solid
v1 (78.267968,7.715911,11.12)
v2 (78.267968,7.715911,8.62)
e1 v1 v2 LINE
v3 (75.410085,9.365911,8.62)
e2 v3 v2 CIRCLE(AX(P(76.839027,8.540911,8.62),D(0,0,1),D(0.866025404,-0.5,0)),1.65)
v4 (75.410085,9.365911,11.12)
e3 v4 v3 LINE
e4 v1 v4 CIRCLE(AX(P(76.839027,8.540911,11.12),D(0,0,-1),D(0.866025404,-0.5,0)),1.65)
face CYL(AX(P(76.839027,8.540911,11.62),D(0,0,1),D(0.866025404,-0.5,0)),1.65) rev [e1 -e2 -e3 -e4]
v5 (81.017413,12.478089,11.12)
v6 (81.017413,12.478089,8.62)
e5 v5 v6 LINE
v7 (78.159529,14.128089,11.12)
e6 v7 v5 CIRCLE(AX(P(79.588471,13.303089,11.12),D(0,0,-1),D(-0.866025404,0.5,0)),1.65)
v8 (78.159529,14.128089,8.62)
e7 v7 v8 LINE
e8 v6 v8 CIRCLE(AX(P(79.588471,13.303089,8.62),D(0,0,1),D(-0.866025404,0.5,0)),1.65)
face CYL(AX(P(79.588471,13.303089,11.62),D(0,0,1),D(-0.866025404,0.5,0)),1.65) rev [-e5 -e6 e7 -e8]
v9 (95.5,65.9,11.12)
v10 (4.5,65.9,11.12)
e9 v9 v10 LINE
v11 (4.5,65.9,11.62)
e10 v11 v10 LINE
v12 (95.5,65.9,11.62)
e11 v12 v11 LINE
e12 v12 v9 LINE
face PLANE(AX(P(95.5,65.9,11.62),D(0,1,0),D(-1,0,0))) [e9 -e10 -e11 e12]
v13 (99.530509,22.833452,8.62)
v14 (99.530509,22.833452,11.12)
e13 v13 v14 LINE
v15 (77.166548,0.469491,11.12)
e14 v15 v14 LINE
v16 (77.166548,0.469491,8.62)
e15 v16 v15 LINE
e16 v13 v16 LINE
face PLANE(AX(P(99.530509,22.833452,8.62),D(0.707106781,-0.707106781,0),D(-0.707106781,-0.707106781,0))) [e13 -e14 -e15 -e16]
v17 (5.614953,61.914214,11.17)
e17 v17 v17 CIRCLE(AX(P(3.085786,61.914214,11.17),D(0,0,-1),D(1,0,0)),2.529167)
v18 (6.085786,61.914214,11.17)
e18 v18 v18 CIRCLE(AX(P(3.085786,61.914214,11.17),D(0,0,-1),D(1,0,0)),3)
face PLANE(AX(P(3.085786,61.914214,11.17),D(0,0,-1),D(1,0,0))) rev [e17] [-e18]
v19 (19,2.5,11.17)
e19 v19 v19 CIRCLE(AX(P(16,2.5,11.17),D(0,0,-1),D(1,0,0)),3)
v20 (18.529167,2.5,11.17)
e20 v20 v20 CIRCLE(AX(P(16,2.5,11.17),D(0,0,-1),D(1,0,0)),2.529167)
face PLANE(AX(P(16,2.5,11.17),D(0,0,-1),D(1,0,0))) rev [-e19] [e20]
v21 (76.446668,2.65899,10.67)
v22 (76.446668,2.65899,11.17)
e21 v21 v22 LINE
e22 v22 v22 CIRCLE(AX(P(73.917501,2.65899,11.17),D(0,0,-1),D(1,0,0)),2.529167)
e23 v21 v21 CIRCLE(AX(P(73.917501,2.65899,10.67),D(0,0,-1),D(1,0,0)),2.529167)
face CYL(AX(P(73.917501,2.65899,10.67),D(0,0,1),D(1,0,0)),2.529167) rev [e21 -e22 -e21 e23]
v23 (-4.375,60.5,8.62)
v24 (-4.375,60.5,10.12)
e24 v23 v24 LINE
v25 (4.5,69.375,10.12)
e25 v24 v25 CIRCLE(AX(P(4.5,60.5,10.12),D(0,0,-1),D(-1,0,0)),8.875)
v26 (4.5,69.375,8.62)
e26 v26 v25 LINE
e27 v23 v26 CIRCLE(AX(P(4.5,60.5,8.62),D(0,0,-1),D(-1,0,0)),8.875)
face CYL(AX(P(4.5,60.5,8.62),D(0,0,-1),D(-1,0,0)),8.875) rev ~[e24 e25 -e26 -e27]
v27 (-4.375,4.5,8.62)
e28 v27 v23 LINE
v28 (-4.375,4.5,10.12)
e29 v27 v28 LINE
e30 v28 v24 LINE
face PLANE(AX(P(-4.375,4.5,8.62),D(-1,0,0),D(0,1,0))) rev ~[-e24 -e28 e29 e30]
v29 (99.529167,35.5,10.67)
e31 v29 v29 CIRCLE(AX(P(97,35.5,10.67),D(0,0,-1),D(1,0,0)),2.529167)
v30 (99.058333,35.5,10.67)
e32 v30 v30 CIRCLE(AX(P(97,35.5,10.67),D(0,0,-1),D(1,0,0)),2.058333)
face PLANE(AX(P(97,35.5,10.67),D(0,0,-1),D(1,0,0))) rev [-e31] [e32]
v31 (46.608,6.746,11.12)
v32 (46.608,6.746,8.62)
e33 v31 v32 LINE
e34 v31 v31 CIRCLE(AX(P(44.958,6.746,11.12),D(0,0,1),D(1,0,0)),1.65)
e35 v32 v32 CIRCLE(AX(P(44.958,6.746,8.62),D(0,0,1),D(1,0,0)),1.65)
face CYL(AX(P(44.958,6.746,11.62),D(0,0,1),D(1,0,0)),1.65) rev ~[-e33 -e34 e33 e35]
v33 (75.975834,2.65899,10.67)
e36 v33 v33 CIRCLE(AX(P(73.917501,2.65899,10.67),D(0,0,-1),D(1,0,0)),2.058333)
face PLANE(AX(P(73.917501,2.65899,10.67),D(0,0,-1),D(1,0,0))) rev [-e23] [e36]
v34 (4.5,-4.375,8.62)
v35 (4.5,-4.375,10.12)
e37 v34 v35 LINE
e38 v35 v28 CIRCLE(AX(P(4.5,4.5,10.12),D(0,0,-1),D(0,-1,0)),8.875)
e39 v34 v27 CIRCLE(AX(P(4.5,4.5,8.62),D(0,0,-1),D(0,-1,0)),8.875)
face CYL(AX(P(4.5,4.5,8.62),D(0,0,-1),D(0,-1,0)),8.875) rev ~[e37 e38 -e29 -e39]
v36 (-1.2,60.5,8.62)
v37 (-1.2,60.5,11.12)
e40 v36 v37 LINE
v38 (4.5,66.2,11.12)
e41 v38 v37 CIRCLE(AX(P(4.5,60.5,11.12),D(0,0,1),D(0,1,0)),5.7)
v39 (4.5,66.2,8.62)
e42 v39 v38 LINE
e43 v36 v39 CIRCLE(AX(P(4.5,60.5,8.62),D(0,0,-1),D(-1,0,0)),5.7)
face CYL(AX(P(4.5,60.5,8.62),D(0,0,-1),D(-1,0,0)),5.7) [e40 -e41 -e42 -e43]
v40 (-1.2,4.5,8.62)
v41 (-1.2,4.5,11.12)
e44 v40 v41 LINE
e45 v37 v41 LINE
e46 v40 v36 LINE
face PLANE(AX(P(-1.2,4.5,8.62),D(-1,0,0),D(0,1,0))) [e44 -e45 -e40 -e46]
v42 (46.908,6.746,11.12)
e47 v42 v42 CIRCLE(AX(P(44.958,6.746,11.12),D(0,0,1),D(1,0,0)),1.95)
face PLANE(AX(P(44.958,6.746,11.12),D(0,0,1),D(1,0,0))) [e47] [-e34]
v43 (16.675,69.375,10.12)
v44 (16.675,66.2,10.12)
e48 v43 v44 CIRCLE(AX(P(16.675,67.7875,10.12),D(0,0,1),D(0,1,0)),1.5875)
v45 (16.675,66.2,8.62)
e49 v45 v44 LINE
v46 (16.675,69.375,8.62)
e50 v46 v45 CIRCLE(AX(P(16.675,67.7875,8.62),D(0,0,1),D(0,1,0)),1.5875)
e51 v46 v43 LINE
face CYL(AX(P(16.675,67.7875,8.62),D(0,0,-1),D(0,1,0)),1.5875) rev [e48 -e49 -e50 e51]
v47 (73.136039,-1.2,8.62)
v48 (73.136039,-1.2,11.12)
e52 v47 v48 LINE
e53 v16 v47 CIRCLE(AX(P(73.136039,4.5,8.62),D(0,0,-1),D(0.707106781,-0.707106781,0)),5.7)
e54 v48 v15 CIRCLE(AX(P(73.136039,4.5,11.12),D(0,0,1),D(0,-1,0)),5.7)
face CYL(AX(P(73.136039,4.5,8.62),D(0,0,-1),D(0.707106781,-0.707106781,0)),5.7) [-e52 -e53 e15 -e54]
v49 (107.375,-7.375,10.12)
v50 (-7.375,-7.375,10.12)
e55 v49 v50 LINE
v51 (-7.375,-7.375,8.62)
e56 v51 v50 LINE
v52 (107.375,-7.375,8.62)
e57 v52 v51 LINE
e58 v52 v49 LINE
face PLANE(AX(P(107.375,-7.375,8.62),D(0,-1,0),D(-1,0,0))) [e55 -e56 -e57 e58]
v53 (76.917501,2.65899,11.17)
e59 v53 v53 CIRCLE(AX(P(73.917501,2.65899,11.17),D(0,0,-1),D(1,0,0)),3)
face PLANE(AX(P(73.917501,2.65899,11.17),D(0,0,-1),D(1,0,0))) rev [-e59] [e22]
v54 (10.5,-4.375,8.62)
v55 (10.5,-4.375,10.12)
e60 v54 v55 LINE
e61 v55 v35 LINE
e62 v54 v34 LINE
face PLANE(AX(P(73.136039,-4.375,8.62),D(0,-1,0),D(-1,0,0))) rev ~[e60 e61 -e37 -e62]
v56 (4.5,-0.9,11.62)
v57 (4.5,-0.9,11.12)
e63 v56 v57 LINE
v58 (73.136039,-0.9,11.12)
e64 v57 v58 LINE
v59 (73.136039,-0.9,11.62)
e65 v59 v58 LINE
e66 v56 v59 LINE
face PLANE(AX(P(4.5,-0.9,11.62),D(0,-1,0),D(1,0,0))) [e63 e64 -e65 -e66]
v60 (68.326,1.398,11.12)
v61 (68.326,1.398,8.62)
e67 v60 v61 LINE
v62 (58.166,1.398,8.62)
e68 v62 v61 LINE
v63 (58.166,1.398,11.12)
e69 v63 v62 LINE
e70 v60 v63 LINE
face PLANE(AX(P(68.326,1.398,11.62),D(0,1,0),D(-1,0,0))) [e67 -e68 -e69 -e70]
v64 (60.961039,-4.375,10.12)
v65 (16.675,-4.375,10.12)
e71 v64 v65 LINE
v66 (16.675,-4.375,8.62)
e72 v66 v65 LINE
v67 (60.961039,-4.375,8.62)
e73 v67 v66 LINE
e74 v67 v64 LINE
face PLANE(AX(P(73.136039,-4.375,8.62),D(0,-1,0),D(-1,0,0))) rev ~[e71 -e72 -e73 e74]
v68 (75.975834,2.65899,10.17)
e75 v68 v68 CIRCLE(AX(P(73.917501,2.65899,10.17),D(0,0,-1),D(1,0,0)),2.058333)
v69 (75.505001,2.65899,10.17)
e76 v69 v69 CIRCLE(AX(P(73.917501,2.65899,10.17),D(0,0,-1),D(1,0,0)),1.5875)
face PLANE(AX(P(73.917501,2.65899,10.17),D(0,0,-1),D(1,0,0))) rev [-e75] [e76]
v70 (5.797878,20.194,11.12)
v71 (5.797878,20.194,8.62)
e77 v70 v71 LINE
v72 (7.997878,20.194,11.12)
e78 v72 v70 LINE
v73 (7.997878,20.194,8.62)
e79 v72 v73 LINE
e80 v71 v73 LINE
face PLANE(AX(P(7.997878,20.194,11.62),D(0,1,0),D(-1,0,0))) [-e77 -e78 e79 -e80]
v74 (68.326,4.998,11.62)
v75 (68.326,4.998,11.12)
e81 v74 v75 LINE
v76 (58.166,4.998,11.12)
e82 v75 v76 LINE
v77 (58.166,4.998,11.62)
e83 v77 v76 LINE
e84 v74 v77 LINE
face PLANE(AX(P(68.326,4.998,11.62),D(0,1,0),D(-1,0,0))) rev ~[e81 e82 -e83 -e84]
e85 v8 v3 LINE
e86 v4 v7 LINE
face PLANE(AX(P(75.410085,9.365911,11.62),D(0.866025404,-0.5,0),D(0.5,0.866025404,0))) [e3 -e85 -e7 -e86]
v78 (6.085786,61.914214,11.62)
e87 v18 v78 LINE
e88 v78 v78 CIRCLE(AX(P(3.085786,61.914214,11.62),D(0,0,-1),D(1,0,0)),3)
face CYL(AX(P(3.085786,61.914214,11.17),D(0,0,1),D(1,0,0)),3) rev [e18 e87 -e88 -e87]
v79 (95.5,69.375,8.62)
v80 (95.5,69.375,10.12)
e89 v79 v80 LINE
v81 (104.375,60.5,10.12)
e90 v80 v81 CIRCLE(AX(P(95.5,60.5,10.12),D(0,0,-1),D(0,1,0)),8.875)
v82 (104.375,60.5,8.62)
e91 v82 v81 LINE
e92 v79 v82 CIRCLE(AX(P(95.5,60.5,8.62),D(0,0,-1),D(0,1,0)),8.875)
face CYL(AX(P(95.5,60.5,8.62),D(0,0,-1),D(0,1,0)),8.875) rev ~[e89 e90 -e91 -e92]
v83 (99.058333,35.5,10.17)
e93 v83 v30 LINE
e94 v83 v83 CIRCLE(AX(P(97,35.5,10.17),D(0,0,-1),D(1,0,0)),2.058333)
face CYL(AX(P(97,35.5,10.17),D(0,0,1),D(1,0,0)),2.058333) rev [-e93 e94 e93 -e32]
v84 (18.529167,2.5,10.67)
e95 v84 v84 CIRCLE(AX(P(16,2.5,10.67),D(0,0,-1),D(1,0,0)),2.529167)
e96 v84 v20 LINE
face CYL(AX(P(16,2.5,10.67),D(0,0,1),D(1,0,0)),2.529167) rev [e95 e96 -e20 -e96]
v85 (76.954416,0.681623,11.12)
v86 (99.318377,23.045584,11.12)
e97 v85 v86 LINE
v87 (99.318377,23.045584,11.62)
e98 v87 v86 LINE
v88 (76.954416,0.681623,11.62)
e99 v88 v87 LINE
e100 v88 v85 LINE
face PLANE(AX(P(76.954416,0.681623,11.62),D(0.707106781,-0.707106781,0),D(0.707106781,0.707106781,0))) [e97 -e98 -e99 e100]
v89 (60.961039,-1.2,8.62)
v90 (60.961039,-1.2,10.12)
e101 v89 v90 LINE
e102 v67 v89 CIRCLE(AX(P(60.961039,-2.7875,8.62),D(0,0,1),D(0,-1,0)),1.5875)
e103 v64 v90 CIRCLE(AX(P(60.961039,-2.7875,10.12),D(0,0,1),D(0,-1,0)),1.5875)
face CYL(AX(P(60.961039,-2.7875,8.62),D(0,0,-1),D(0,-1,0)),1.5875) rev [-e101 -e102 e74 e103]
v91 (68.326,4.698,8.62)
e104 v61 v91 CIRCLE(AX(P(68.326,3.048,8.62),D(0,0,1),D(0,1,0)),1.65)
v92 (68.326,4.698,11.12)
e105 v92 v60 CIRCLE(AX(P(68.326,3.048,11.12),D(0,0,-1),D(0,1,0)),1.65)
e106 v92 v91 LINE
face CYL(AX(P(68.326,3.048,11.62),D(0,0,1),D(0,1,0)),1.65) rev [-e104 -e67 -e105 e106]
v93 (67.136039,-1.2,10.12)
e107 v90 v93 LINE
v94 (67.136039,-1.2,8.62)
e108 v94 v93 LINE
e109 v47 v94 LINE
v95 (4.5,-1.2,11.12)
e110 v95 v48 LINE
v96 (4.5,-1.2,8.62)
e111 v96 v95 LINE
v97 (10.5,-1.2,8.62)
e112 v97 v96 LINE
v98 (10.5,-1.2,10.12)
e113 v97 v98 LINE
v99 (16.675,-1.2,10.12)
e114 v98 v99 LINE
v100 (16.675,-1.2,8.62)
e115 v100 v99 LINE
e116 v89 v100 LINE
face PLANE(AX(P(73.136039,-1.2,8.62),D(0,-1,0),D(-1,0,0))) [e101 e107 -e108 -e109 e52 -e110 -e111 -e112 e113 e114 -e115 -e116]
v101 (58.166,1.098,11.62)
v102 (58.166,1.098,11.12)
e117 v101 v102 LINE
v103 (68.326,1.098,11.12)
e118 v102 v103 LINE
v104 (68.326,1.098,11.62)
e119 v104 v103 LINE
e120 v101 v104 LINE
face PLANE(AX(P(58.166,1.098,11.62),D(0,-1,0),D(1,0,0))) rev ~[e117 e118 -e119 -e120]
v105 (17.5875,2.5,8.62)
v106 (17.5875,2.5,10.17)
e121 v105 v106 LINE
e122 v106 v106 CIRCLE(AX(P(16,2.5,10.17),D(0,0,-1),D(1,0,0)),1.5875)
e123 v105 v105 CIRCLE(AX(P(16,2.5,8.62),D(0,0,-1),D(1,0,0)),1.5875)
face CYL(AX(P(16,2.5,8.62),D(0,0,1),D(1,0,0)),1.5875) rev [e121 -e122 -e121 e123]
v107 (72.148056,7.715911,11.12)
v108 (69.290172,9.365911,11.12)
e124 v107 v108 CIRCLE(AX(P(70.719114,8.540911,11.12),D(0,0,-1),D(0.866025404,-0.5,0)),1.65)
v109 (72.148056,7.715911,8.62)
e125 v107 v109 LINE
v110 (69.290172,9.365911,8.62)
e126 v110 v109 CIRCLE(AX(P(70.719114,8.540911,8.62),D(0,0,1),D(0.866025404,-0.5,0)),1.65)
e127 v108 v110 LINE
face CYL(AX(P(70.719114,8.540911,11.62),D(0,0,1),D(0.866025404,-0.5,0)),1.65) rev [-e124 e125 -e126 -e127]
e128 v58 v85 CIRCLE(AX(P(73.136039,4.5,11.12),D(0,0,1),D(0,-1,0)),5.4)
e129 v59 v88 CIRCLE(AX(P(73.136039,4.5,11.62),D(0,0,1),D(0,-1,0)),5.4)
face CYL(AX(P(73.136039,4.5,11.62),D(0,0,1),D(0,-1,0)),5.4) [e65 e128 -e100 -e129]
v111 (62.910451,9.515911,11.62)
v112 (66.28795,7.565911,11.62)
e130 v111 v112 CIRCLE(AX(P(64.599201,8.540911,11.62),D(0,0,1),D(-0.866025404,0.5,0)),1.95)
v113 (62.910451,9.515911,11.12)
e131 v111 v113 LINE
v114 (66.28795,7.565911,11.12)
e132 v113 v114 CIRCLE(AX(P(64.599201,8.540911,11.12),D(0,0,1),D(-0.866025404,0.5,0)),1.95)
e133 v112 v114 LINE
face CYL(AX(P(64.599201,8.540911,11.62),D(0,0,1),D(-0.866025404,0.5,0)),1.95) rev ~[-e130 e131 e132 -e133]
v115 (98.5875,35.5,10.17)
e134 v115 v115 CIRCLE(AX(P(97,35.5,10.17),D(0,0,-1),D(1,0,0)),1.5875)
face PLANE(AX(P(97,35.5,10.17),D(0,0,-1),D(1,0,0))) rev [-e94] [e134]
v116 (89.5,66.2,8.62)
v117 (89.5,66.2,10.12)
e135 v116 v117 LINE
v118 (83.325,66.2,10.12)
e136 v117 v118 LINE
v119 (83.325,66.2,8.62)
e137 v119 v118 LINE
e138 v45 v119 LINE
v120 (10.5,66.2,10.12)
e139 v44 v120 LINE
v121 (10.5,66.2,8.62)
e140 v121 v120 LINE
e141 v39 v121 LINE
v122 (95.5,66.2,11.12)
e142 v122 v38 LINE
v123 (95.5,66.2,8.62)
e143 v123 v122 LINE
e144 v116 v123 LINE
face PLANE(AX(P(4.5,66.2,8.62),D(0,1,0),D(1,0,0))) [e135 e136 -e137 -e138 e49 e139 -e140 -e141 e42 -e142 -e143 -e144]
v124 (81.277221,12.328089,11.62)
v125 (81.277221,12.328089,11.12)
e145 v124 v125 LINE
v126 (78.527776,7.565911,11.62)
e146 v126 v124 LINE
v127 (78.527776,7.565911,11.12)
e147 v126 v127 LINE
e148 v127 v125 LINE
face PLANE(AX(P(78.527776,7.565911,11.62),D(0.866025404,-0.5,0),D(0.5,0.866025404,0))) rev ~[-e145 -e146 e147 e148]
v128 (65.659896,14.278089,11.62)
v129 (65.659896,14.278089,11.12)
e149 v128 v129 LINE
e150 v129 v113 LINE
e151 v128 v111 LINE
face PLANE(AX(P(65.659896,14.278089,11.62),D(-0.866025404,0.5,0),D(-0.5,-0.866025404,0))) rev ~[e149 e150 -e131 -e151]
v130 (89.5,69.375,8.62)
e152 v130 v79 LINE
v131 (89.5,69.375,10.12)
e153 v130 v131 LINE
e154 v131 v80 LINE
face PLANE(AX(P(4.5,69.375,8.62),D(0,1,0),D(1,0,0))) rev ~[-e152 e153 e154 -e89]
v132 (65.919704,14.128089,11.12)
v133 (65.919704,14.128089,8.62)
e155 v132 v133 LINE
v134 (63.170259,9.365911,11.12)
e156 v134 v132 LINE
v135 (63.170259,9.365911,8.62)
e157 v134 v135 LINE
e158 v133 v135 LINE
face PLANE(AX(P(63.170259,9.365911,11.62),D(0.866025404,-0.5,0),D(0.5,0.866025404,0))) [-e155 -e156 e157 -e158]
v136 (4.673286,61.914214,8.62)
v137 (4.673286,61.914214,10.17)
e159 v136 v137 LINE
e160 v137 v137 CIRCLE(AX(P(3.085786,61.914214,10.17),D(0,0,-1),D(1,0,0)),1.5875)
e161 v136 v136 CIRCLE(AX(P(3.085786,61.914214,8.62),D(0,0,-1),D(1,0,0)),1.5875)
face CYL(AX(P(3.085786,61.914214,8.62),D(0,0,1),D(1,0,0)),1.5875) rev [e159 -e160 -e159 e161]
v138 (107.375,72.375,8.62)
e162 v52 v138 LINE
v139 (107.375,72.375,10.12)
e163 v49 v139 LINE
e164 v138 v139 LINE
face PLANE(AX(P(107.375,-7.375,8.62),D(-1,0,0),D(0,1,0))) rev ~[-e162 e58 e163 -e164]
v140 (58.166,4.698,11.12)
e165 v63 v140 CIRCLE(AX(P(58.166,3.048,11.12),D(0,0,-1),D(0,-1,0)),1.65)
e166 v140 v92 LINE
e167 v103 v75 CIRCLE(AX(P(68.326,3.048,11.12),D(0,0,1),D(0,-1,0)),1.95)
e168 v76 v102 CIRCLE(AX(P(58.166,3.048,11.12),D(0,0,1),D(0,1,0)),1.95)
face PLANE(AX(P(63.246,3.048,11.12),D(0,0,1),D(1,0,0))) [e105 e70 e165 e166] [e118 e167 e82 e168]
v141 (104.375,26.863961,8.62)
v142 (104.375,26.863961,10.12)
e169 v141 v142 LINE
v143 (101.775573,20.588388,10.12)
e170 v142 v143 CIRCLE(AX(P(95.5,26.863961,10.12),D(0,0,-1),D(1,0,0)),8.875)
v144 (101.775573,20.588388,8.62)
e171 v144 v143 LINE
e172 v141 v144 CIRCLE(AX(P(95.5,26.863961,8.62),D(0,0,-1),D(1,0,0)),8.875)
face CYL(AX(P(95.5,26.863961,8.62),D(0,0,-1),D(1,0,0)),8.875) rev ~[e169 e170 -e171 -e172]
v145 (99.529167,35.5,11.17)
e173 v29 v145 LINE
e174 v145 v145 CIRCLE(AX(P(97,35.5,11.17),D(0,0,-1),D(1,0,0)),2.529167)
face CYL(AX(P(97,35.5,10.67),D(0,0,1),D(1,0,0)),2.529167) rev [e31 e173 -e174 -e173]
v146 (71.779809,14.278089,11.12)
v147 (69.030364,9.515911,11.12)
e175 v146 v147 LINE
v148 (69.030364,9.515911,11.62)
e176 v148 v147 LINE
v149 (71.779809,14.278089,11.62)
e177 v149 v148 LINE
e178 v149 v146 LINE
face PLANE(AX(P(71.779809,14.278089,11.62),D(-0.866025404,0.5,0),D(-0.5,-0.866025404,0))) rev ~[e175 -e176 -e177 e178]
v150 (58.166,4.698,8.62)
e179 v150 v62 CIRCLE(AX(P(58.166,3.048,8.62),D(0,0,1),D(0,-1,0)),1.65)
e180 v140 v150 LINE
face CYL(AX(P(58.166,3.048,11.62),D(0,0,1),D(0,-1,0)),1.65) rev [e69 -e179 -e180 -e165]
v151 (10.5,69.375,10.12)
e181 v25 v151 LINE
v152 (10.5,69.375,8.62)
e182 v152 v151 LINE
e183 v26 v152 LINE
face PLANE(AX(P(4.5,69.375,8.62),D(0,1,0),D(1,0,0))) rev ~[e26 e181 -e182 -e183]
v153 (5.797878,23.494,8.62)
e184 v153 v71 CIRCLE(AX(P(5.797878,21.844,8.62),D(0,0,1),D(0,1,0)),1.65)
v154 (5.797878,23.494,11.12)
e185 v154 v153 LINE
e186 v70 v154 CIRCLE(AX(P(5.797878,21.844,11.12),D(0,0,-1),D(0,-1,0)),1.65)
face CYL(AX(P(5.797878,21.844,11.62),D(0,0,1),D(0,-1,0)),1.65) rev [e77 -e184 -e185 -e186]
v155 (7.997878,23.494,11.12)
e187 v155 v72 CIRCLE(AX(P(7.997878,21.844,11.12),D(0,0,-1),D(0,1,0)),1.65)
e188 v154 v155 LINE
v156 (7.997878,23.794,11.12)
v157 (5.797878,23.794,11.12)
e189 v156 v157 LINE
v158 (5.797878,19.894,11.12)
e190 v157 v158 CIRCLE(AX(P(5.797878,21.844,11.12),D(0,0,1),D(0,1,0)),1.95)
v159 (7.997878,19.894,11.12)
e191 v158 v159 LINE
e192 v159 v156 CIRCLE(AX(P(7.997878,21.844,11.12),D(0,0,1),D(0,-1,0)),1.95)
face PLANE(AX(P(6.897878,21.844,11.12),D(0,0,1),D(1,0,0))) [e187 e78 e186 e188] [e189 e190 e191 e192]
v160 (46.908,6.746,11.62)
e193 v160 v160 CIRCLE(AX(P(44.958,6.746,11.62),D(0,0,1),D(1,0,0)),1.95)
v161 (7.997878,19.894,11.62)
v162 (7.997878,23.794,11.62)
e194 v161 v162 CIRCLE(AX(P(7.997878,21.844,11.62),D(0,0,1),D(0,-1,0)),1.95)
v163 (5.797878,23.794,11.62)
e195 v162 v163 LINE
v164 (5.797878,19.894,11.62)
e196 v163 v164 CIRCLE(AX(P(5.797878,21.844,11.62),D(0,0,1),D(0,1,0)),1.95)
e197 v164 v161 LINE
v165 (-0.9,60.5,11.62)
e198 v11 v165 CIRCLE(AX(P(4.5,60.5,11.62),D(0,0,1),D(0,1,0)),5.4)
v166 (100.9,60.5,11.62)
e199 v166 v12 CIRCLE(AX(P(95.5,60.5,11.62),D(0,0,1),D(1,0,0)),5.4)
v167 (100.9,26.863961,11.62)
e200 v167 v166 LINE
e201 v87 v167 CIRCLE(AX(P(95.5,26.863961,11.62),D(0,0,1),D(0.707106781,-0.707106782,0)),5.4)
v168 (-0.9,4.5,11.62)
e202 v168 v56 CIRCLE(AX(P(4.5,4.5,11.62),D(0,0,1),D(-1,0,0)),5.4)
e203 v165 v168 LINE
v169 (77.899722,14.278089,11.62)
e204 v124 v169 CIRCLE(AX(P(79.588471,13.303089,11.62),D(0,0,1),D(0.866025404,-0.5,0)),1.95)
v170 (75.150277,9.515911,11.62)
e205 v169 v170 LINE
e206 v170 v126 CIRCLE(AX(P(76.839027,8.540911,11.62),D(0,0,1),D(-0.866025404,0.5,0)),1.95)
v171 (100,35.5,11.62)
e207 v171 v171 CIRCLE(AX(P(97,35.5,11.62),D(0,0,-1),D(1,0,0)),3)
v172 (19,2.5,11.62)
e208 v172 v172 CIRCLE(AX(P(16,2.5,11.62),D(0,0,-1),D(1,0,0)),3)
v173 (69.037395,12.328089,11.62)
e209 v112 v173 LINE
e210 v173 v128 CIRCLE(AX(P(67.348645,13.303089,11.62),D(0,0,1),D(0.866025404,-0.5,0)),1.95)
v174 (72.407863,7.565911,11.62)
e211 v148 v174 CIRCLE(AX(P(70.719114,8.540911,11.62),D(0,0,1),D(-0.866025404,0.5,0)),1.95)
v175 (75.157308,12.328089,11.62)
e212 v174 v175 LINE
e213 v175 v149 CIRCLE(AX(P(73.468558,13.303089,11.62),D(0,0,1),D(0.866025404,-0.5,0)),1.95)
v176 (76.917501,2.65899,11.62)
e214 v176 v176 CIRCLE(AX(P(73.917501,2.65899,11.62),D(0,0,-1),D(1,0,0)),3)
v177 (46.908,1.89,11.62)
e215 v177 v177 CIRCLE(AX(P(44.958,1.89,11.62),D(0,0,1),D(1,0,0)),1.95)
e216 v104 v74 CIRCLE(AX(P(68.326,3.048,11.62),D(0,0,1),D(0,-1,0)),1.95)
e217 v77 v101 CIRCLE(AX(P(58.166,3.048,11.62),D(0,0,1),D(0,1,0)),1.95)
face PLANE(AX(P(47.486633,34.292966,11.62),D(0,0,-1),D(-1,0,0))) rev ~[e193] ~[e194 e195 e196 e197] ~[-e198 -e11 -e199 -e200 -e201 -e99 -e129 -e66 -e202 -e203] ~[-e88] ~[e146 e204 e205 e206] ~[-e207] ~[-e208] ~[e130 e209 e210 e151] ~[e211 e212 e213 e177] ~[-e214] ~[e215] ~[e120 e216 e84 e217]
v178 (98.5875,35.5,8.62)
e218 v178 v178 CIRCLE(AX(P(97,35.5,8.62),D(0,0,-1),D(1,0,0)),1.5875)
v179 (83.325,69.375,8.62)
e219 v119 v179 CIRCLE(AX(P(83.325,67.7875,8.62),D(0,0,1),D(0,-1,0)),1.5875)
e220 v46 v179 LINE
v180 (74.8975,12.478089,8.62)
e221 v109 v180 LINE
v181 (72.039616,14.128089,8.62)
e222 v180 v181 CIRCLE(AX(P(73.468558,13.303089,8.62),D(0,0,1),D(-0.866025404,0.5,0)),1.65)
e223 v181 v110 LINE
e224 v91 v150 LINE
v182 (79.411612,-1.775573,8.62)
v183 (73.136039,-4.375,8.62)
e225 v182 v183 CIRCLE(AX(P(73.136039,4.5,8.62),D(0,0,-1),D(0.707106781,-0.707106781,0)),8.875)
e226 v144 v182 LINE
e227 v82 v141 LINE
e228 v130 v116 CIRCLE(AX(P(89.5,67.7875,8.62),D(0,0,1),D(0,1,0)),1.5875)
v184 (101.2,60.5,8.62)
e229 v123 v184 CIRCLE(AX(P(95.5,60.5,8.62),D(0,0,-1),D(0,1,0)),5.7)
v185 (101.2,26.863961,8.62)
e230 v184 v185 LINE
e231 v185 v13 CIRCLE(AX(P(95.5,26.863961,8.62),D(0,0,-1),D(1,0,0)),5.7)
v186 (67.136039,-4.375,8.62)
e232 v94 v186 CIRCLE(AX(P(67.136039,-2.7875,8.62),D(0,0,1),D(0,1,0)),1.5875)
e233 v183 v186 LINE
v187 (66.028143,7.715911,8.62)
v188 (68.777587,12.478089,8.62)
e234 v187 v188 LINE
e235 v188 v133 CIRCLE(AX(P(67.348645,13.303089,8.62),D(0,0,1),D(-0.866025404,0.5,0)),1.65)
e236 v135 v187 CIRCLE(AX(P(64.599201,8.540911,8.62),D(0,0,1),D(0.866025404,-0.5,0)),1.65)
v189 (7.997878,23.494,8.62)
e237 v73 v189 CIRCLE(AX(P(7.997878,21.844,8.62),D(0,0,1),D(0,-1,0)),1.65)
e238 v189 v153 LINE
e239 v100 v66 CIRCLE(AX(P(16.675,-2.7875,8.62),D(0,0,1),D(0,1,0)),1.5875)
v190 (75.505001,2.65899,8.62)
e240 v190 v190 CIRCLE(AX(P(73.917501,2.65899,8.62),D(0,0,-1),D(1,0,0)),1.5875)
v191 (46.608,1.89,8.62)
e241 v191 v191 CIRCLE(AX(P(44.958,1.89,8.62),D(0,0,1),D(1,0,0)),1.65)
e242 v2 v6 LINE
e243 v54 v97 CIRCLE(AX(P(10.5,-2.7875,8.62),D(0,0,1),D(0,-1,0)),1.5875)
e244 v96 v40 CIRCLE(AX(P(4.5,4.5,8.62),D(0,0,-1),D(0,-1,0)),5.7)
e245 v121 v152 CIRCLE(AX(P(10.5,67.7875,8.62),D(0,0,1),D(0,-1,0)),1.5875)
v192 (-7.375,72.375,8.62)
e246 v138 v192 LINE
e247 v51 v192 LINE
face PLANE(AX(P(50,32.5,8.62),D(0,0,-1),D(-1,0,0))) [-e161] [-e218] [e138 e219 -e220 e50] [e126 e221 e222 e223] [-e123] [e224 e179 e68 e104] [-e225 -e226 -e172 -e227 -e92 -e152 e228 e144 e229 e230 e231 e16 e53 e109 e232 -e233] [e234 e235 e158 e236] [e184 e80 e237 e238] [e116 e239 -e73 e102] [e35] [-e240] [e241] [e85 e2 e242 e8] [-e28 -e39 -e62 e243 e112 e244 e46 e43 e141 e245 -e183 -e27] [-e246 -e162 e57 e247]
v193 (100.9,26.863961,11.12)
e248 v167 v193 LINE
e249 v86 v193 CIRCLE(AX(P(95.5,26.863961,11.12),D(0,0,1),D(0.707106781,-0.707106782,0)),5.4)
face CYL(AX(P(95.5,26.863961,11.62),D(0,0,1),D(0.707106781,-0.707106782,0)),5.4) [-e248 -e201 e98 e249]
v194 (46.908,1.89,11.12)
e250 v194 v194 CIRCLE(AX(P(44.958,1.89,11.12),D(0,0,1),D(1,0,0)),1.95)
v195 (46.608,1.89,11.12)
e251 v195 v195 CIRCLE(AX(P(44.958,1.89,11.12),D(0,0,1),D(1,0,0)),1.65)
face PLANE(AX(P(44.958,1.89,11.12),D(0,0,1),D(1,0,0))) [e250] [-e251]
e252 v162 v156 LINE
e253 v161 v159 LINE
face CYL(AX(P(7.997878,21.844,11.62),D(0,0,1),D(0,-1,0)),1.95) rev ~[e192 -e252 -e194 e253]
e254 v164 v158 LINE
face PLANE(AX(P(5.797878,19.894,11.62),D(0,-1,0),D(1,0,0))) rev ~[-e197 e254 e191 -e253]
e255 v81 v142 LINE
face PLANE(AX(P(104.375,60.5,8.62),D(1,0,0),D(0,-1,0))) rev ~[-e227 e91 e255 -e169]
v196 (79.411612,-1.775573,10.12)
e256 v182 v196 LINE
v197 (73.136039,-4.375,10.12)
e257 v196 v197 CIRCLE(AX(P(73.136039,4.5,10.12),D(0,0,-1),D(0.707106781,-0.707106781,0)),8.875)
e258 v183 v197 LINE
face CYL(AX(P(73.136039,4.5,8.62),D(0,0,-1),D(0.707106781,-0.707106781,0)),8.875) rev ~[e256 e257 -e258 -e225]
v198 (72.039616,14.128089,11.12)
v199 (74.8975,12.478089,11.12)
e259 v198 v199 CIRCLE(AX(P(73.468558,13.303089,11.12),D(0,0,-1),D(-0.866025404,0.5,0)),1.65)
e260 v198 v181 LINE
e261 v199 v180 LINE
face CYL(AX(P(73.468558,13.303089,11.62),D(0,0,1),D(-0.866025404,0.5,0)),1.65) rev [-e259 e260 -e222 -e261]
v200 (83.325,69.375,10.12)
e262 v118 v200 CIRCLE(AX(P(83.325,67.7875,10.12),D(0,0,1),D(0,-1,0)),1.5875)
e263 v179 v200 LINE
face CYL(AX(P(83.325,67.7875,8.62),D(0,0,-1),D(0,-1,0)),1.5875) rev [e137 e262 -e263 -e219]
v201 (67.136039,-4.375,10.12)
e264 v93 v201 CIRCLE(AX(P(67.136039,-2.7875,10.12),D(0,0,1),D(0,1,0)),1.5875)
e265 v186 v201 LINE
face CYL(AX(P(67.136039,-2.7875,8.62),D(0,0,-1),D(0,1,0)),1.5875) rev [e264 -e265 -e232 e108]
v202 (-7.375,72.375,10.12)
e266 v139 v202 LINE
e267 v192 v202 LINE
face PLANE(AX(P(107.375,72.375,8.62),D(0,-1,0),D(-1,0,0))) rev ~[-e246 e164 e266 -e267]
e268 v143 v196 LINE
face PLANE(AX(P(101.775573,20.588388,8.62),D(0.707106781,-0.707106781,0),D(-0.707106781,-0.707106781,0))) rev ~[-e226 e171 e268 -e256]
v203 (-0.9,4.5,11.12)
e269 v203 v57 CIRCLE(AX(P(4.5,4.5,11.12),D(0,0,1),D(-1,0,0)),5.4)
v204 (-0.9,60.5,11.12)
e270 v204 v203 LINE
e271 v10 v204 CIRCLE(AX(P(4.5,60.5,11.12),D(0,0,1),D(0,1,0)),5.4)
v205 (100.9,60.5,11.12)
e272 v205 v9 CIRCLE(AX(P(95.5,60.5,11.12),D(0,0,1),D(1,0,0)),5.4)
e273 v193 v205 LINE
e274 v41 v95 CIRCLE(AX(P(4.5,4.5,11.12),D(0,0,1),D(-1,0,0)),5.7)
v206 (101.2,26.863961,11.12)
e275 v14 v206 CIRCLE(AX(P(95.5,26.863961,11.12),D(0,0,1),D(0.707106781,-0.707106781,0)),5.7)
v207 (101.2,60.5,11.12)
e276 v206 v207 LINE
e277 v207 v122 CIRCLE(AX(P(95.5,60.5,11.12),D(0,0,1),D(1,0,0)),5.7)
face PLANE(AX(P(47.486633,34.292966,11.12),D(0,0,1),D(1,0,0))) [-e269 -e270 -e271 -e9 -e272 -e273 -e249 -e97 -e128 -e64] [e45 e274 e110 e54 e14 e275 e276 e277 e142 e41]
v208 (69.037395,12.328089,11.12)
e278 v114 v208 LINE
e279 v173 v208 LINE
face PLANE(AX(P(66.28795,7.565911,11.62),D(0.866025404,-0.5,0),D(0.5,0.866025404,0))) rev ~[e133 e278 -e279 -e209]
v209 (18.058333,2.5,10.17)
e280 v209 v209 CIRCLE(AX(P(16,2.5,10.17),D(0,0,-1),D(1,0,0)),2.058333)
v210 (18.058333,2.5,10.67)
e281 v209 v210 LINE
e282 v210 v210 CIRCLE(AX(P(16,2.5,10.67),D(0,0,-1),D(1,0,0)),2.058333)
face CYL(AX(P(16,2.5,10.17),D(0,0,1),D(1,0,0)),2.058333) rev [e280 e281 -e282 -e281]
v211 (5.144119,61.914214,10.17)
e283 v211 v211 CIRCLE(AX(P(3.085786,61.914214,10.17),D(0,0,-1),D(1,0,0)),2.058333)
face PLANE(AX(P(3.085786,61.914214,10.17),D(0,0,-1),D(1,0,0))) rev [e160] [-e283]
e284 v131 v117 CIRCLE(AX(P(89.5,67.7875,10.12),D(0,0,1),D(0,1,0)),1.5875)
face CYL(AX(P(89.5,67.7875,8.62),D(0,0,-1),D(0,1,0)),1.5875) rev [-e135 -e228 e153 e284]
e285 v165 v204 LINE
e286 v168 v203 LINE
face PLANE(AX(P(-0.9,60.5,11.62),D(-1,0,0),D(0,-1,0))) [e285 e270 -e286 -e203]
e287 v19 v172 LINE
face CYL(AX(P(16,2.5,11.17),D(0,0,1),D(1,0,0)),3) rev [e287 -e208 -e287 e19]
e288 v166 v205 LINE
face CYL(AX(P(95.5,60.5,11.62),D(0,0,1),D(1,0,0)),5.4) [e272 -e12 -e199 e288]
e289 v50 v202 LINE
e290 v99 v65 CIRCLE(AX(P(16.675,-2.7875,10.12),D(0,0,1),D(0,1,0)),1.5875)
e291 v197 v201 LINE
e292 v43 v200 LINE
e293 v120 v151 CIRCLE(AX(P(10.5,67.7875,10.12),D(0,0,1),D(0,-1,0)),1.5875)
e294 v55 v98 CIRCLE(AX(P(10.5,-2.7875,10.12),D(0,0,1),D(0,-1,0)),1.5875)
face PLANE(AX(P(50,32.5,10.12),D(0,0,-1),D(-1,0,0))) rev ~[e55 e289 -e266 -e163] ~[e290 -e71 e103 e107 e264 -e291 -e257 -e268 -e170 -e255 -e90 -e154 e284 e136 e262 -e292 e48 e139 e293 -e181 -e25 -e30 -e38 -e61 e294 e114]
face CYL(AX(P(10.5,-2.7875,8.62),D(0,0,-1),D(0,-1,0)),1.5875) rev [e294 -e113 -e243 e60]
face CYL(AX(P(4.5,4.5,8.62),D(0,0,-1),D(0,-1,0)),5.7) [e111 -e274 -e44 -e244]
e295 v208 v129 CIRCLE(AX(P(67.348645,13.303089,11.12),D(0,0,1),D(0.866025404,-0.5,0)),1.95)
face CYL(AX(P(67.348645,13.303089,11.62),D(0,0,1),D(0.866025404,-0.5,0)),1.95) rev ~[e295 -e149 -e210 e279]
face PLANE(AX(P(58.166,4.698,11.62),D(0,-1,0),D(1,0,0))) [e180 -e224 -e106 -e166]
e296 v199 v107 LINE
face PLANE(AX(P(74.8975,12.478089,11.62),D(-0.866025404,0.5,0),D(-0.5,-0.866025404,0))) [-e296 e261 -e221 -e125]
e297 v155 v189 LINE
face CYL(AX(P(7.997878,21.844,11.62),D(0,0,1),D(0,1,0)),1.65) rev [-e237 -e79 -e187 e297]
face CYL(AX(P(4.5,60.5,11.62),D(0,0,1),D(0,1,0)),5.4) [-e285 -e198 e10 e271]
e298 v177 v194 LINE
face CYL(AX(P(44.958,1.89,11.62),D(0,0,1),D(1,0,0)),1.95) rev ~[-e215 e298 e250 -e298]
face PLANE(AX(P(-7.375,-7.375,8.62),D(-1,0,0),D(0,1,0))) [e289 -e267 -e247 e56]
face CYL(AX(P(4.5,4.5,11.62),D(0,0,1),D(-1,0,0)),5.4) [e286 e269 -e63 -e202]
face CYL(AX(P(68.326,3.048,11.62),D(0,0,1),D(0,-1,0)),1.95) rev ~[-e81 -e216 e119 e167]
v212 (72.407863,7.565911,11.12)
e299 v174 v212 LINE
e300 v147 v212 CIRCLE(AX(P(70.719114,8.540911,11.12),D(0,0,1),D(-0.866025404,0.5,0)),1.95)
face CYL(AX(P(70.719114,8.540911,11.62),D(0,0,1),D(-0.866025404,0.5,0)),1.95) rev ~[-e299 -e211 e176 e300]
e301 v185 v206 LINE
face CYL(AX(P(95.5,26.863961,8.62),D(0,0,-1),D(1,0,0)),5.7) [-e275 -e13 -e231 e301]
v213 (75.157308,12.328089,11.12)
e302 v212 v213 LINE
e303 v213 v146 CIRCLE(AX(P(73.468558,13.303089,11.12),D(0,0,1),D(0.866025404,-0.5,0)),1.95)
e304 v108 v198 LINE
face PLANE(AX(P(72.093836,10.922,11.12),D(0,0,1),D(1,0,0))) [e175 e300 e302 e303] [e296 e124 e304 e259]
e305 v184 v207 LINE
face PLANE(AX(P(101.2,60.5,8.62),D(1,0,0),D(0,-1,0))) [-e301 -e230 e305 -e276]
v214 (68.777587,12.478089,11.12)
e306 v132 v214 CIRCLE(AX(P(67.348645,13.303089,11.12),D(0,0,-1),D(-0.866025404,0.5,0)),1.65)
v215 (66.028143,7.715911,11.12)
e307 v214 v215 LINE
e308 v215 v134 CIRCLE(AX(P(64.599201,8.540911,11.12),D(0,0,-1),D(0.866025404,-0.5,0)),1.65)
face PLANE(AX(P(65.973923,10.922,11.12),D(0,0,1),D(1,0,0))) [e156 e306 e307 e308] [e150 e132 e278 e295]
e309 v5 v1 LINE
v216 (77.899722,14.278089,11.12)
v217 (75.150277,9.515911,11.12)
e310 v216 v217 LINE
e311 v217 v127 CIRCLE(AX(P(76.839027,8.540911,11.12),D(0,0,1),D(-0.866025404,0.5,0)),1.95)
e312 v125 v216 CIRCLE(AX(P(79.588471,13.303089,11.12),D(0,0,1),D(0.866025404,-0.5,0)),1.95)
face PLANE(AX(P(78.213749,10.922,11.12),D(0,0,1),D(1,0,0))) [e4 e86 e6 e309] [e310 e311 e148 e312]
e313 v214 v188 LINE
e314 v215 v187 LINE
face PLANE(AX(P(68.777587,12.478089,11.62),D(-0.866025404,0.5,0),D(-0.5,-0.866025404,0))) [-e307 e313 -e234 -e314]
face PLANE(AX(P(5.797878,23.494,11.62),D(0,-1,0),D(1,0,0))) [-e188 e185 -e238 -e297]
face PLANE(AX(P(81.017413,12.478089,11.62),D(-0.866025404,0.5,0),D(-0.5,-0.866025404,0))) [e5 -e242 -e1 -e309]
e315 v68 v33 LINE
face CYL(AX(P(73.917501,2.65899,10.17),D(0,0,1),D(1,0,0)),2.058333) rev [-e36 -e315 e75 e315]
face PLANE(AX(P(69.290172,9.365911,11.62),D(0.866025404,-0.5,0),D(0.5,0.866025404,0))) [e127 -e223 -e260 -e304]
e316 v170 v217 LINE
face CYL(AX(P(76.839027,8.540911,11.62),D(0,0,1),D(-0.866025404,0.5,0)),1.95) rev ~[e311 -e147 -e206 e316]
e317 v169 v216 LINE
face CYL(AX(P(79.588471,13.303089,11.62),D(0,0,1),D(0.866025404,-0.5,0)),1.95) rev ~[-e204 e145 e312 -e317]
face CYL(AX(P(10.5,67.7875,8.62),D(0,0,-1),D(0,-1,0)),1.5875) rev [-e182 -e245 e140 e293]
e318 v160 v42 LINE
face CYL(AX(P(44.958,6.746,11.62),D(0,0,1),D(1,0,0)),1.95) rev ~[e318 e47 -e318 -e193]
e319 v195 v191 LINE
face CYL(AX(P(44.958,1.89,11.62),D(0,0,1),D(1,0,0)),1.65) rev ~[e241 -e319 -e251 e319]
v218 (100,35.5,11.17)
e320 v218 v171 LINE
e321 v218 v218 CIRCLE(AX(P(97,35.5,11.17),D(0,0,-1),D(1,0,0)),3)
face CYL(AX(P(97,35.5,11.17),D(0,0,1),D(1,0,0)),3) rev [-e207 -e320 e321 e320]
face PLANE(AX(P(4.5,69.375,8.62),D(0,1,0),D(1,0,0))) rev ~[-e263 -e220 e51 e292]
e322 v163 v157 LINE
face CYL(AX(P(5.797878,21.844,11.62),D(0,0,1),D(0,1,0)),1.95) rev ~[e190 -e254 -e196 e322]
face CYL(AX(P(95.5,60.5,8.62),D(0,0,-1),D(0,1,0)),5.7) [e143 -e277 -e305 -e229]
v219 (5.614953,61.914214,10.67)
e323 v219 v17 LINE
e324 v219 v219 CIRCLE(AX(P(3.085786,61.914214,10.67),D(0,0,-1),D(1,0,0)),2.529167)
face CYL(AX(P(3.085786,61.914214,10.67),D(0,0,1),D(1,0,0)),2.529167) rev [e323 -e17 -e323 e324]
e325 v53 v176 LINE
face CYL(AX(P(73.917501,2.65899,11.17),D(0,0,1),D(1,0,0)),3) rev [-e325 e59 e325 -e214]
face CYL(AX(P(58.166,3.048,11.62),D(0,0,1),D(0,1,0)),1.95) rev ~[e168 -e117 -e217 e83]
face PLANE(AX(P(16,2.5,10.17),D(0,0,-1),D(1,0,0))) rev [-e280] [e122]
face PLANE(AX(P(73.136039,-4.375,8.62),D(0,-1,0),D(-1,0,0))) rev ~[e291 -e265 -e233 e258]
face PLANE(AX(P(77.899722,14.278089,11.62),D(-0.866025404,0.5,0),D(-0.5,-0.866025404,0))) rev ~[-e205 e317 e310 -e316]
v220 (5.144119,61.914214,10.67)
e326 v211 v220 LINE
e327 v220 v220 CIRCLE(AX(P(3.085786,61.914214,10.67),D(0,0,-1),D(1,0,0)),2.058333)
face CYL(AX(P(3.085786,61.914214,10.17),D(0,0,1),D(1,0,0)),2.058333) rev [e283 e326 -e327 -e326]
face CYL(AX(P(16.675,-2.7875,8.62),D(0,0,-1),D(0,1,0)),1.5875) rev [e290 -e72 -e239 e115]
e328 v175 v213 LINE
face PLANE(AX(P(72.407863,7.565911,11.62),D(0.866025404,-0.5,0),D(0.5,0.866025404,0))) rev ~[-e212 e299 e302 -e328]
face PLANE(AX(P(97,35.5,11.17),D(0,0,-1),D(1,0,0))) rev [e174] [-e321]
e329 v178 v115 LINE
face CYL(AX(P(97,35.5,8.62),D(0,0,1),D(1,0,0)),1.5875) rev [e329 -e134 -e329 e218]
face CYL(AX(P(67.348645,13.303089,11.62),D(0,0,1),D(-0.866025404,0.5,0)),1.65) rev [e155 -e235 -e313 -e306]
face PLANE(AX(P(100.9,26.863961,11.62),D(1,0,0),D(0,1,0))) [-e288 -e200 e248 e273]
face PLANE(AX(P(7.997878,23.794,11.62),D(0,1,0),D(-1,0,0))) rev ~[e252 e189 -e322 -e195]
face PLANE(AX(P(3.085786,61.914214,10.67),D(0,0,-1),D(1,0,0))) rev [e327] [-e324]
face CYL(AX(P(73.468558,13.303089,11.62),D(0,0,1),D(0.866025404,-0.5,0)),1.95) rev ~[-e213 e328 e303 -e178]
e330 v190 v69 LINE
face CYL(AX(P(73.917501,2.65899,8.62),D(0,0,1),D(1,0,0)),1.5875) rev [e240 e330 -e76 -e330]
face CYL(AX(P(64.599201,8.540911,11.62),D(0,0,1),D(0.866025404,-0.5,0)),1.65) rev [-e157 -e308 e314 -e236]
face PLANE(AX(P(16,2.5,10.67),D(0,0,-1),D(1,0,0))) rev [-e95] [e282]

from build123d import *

# Parameters (mm, degrees)
BOSS_EXTRUDE1_DEPTH = 3
CUT_EXTRUDE1_DEPTH  = 121.966441627
SKETCH8_R           = 1
CUT_EXTRUDE2_DEPTH  = 10
SKETCH10_R          = 1
CUT_EXTRUDE4_DEPTH  = 10
SKETCH12_R          = 1.65
CUT_EXTRUDE5_DEPTH  = 10
SKETCH13_R          = 1.95
SKETCH13_R_2        = 1.65
CUT_EXTRUDE6_DEPTH  = 0.5
SKETCH15_W          = 114.75
SKETCH15_H          = 79.75
BOSS_EXTRUDE2_DEPTH = 1.5


with BuildPart() as part:
    # Sketch2 → Boss-Extrude1 (new body)
    with BuildSketch(Plane.XY.offset(8.62)):
        with BuildLine():
            Line((4.5, 66.2), (95.5, 66.2))
            ThreePointArc((95.5, 66.2), (99.530508653, 64.530508653), (101.2, 60.5))
            Line((101.2, 60.5), (101.2, 26.863961031))
            ThreePointArc((101.2, 26.863961031), (100.766113335, 24.682665466), (99.530508653, 22.833452378))
            Line((99.530508653, 22.833452378), (77.166547622, 0.469491347))
            ThreePointArc((77.166547622, 0.469491347), (75.317334534, -0.766113335), (73.136038969, -1.2))
            Line((73.136038969, -1.2), (4.5, -1.2))
            ThreePointArc((4.5, -1.2), (0.469491347, 0.469491347), (-1.2, 4.5))
            Line((-1.2, 4.5), (-1.2, 60.5))
            ThreePointArc((-1.2, 60.5), (0.469491347, 64.530508653), (4.5, 66.2))
        make_face()
    extrude(amount=BOSS_EXTRUDE1_DEPTH)

    # Sketch6 → Cut-Extrude1 (cut, through all)
    with BuildSketch(Plane.XY.offset(11.62)):
        with BuildLine():
            Line((68.326, 1.398), (58.166, 1.398))
            ThreePointArc((58.166, 1.398), (56.516, 3.048), (58.166, 4.698))
            Line((58.166, 4.698), (68.326, 4.698))
            ThreePointArc((68.326, 4.698), (69.976, 3.048), (68.326, 1.398))
        make_face()
    extrude(amount=-CUT_EXTRUDE1_DEPTH, mode=Mode.SUBTRACT)

    # Sketch8 → Cut-Extrude2 (cut)
    with BuildSketch(Plane.XY.offset(11.62)):
        with Locations((44.958, 2.539999994)):
            Circle(SKETCH8_R)
        with Locations((44.958000001, 6.095999994)):
            Circle(SKETCH8_R)
    extrude(amount=-CUT_EXTRUDE2_DEPTH, mode=Mode.SUBTRACT)

    # Sketch10 → Cut-Extrude4 (cut)
    with BuildSketch(Plane.XY.offset(11.62)):
        with Locations((5.147878003, 21.843999999)):
            Circle(SKETCH10_R)
        with Locations((8.647878003, 21.843999999)):
            Circle(SKETCH10_R)
    extrude(amount=-CUT_EXTRUDE4_DEPTH, mode=Mode.SUBTRACT)

    # Sketch12 → Cut-Extrude5 (cut)
    with BuildSketch(Plane.XY.offset(11.62)):
        with Locations((44.958000001, 6.745999994)):
            Circle(SKETCH12_R)
        with Locations((44.958000001, 1.889999994)):
            Circle(SKETCH12_R)
        with BuildLine():
            Line((5.797878003, 23.493999999), (7.997878003, 23.493999999))
            ThreePointArc((7.997878003, 23.493999999), (9.647878003, 21.843999999), (7.997878003, 20.193999999))
            Line((7.997878003, 20.193999999), (5.797878003, 20.193999999))
            ThreePointArc((5.797878003, 20.193999999), (4.147878003, 21.843999999), (5.797878003, 23.493999999))
        make_face()
        with BuildLine():
            Line((69.29017176, 9.365911087), (72.03961641, 14.128088914))
            ThreePointArc((72.03961641, 14.128088914), (74.293558327, 14.73203083), (74.897500243, 12.478088914))
            Line((74.897500243, 12.478088914), (72.148055593, 7.715911087))
            ThreePointArc((72.148055593, 7.715911087), (69.894113677, 7.111969171), (69.29017176, 9.365911087))
        make_face()
        with BuildLine():
            Line((63.170258907, 9.365911087), (65.919703557, 14.128088914))
            ThreePointArc((65.919703557, 14.128088914), (68.173645473, 14.73203083), (68.777587389, 12.478088914))
            Line((68.777587389, 12.478088914), (66.028142739, 7.715911087))
            ThreePointArc((66.028142739, 7.715911087), (63.774200823, 7.111969171), (63.170258907, 9.365911087))
        make_face()
        with BuildLine():
            Line((75.410084614, 9.365911087), (78.159529264, 14.128088914))
            ThreePointArc((78.159529264, 14.128088914), (80.41347118, 14.73203083), (81.017413096, 12.478088914))
            Line((81.017413096, 12.478088914), (78.267968446, 7.715911087))
            ThreePointArc((78.267968446, 7.715911087), (76.01402653, 7.111969171), (75.410084614, 9.365911087))
        make_face()
    extrude(amount=-CUT_EXTRUDE5_DEPTH, mode=Mode.SUBTRACT)

    # Sketch13 → Cut-Extrude6 (cut)
    # profile 1 of 8: a face of its own
    with BuildSketch(Plane.XY.offset(11.62)):
        with BuildLine():
            Line((-1.2, 60.5), (-1.2, 4.5))
            ThreePointArc((-1.2, 4.5), (0.469491347, 0.469491347), (4.5, -1.2))
            Line((4.5, -1.2), (73.136038969, -1.2))
            ThreePointArc((73.136038969, -1.2), (75.317334534, -0.766113335), (77.166547622, 0.469491347))
            Line((77.166547622, 0.469491347), (99.530508653, 22.833452378))
            ThreePointArc((99.530508653, 22.833452378), (100.766113335, 24.682665466), (101.2, 26.863961031))
            Line((101.2, 26.863961031), (101.2, 60.5))
            ThreePointArc((101.2, 60.5), (99.530508653, 64.530508653), (95.5, 66.2))
            Line((95.5, 66.2), (4.5, 66.2))
            ThreePointArc((4.5, 66.2), (0.469491347, 64.530508653), (-1.2, 60.5))
        make_face()
        with BuildLine():
            ThreePointArc((100.9, 60.5), (99.318376618, 64.318376618), (95.5, 65.9))
            Line((95.5, 65.9), (4.5, 65.9))
            ThreePointArc((4.5, 65.9), (0.681623382, 64.318376618), (-0.9, 60.5))
            Line((-0.9, 60.5), (-0.9, 4.5))
            ThreePointArc((-0.9, 4.5), (0.681623382, 0.681623382), (4.5, -0.9))
            Line((4.5, -0.9), (73.136038969, -0.9))
            ThreePointArc((73.136038969, -0.9), (75.202529504, -0.488949476), (76.954415588, 0.681623382))
            Line((76.954415588, 0.681623382), (99.318376618, 23.045584412))
            ThreePointArc((99.318376618, 23.045584412), (100.488949476, 24.797470496), (100.9, 26.863961031))
            Line((100.9, 26.863961031), (100.9, 60.5))
        make_face(mode=Mode.SUBTRACT)
    # profile 2 of 8: a face of its own
    with BuildSketch(Plane.XY.offset(11.62)):
        with BuildLine():
            Line((5.797878003, 19.893999999), (7.997878003, 19.893999999))
            ThreePointArc((7.997878003, 19.893999999), (9.947878003, 21.843999999), (7.997878003, 23.793999999))
            Line((7.997878003, 23.793999999), (5.797878003, 23.793999999))
            ThreePointArc((5.797878003, 23.793999999), (3.847878003, 21.843999999), (5.797878003, 19.893999999))
        make_face()
        with BuildLine():
            ThreePointArc((7.997878003, 23.493999999), (9.647878003, 21.843999999), (7.997878003, 20.193999999))
            Line((7.997878003, 20.193999999), (5.797878003, 20.193999999))
            ThreePointArc((5.797878003, 20.193999999), (4.147878003, 21.843999999), (5.797878003, 23.493999999))
            Line((5.797878003, 23.493999999), (7.997878003, 23.493999999))
        make_face(mode=Mode.SUBTRACT)
    # profile 3 of 8: a face of its own
    with BuildSketch(Plane.XY.offset(11.62)):
        with Locations((44.958000001, 6.745999994)):
            Circle(SKETCH13_R)
        with Locations((44.958000001, 6.745999994)):
            Circle(SKETCH13_R_2, mode=Mode.SUBTRACT)
    # profile 4 of 8: a face of its own
    with BuildSketch(Plane.XY.offset(11.62)):
        with Locations((44.958000001, 1.889999994)):
            Circle(SKETCH13_R)
        with Locations((44.958000001, 1.889999994)):
            Circle(SKETCH13_R_2, mode=Mode.SUBTRACT)
    # profile 5 of 8: a face of its own
    with BuildSketch(Plane.XY.offset(11.62)):
        with BuildLine():
            Line((68.326, 4.998), (58.166, 4.998))
            ThreePointArc((58.166, 4.998), (56.216, 3.048), (58.166, 1.098))
            Line((58.166, 1.098), (68.326, 1.098))
            ThreePointArc((68.326, 1.098), (70.276, 3.048), (68.326, 4.998))
        make_face()
        with BuildLine():
            ThreePointArc((58.166, 1.398), (56.516, 3.048), (58.166, 4.698))
            Line((58.166, 4.698), (68.326, 4.698))
            ThreePointArc((68.326, 4.698), (69.976, 3.048), (68.326, 1.398))
            Line((68.326, 1.398), (58.166, 1.398))
        make_face(mode=Mode.SUBTRACT)
    # profile 6 of 8: a face of its own
    with BuildSketch(Plane.XY.offset(11.62)):
        with BuildLine():
            Line((65.659895936, 14.278088914), (62.910451286, 9.515911087))
            ThreePointArc((62.910451286, 9.515911087), (63.624200823, 6.85216155), (66.287950361, 7.565911087))
            Line((66.287950361, 7.565911087), (69.037395011, 12.328088914))
            ThreePointArc((69.037395011, 12.328088914), (68.323645473, 14.991838451), (65.659895936, 14.278088914))
        make_face()
        with BuildLine():
            ThreePointArc((65.919703557, 14.128088914), (68.173645473, 14.73203083), (68.777587389, 12.478088914))
            Line((68.777587389, 12.478088914), (66.028142739, 7.715911087))
            ThreePointArc((66.028142739, 7.715911087), (63.774200823, 7.111969171), (63.170258907, 9.365911087))
            Line((63.170258907, 9.365911087), (65.919703557, 14.128088914))
        make_face(mode=Mode.SUBTRACT)
    # profile 7 of 8: a face of its own
    with BuildSketch(Plane.XY.offset(11.62)):
        with BuildLine():
            Line((72.407863214, 7.565911087), (75.157307864, 12.328088914))
            ThreePointArc((75.157307864, 12.328088914), (74.443558327, 14.991838451), (71.779808789, 14.278088914))
            Line((71.779808789, 14.278088914), (69.030364139, 9.515911087))
            ThreePointArc((69.030364139, 9.515911087), (69.744113677, 6.85216155), (72.407863214, 7.565911087))
        make_face()
        with BuildLine():
            ThreePointArc((72.03961641, 14.128088914), (74.293558327, 14.73203083), (74.897500243, 12.478088914))
            Line((74.897500243, 12.478088914), (72.148055593, 7.715911087))
            ThreePointArc((72.148055593, 7.715911087), (69.894113677, 7.111969171), (69.29017176, 9.365911087))
            Line((69.29017176, 9.365911087), (72.03961641, 14.128088914))
        make_face(mode=Mode.SUBTRACT)
    # profile 8 of 8: a face of its own
    with BuildSketch(Plane.XY.offset(11.62)):
        with BuildLine():
            Line((78.527776067, 7.565911087), (81.277220717, 12.328088914))
            ThreePointArc((81.277220717, 12.328088914), (80.56347118, 14.991838451), (77.899721643, 14.278088914))
            Line((77.899721643, 14.278088914), (75.150276993, 9.515911087))
            ThreePointArc((75.150276993, 9.515911087), (75.86402653, 6.85216155), (78.527776067, 7.565911087))
        make_face()
        with BuildLine():
            ThreePointArc((78.159529264, 14.128088914), (80.41347118, 14.73203083), (81.017413096, 12.478088914))
            Line((81.017413096, 12.478088914), (78.267968446, 7.715911087))
            ThreePointArc((78.267968446, 7.715911087), (76.01402653, 7.111969171), (75.410084614, 9.365911087))
            Line((75.410084614, 9.365911087), (78.159529264, 14.128088914))
        make_face(mode=Mode.SUBTRACT)
    extrude(amount=-CUT_EXTRUDE6_DEPTH, mode=Mode.SUBTRACT)

    # Sketch14 → Cut-Revolve1 (revolve, cut)
    with BuildSketch(Plane(origin=(0, 2.5, 0), x_dir=(-1, 0, 0), z_dir=(0, -1, 0))):
        Polygon((-16, -11.62), (-16, -8.62), (-17.5875, -8.62), (-17.5875, -9.92), (-17.5875, -10.17), (-18.058333333, -10.17), (-18.058333333, -10.67), (-18.529166667, -10.67), (-18.529166667, -11.17), (-19, -11.17), (-19, -11.42), (-19, -11.62), align=None)
    cut_revolve1 = revolve(axis=Axis((16, 2.5, 11.62), (0, 0, -1)), mode=Mode.SUBTRACT)

    # Sketch-Pattern1: Cut-Revolve1 at 3 more places
    with Locations((-12.914214, 59.414214, 0), (57.917501, 0.15899, 0), (81, 33, 0)):
        add(cut_revolve1, mode=Mode.SUBTRACT)

    # Sketch15 → Boss-Extrude2 (add)
    # profile 1 of 5: a face of its own
    with BuildSketch(Plane(origin=(0, 0, 8.62), x_dir=(-1, 0, 0), z_dir=(0, 0, -1))):
        with Locations((-50, 32.5)):
            Rectangle(SKETCH15_W, SKETCH15_H)
        with BuildLine():
            ThreePointArc((-79.411611652, -1.775572683), (-76.532354432, -3.699430851), (-73.136038969, -4.375))
            Line((-73.136038969, -4.375), (-4.5, -4.375))
            ThreePointArc((-4.5, -4.375), (1.775572683, -1.775572683), (4.375, 4.5))
            Line((4.375, 4.5), (4.375, 60.5))
            ThreePointArc((4.375, 60.5), (1.775572683, 66.775572683), (-4.5, 69.375))
            Line((-4.5, 69.375), (-95.5, 69.375))
            ThreePointArc((-95.5, 69.375), (-101.775572683, 66.775572683), (-104.375, 60.5))
            Line((-104.375, 60.5), (-104.375, 26.863961031))
            ThreePointArc((-104.375, 26.863961031), (-103.699430851, 23.467645568), (-101.775572683, 20.588388348))
            Line((-101.775572683, 20.588388348), (-79.411611652, -1.775572683))
        make_face(mode=Mode.SUBTRACT)
    # profile 2 of 5: a face of its own
    with BuildSketch(Plane(origin=(0, 0, 8.62), x_dir=(-1, 0, 0), z_dir=(0, 0, -1))):
        with BuildLine():
            Line((-16.675, -4.375), (-10.5, -4.375))
            ThreePointArc((-10.5, -4.375), (-12.0875, -2.7875), (-10.5, -1.2))
            Line((-10.5, -1.2), (-16.675, -1.2))
            ThreePointArc((-16.675, -1.2), (-15.0875, -2.7875), (-16.675, -4.375))
        make_face()
    # profile 3 of 5: a face of its own
    with BuildSketch(Plane(origin=(0, 0, 8.62), x_dir=(-1, 0, 0), z_dir=(0, 0, -1))):
        with BuildLine():
            Line((-67.136038969, -4.375), (-60.961038969, -4.375))
            ThreePointArc((-60.961038969, -4.375), (-62.548538969, -2.7875), (-60.961038969, -1.2))
            Line((-60.961038969, -1.2), (-67.136038969, -1.2))
            ThreePointArc((-67.136038969, -1.2), (-65.548538969, -2.7875), (-67.136038969, -4.375))
        make_face()
    # profile 4 of 5: a face of its own
    with BuildSketch(Plane(origin=(0, 0, 8.62), x_dir=(-1, 0, 0), z_dir=(0, 0, -1))):
        with BuildLine():
            ThreePointArc((-10.5, 66.2), (-12.0875, 67.7875), (-10.5, 69.375))
            Line((-10.5, 69.375), (-16.675, 69.375))
            ThreePointArc((-16.675, 69.375), (-15.0875, 67.7875), (-16.675, 66.2))
            Line((-16.675, 66.2), (-10.5, 66.2))
        make_face()
    # profile 5 of 5: a face of its own
    with BuildSketch(Plane(origin=(0, 0, 8.62), x_dir=(-1, 0, 0), z_dir=(0, 0, -1))):
        with BuildLine():
            ThreePointArc((-83.325, 66.2), (-84.9125, 67.7875), (-83.325, 69.375))
            Line((-83.325, 69.375), (-89.5, 69.375))
            ThreePointArc((-89.5, 69.375), (-87.9125, 67.7875), (-89.5, 66.2))
            Line((-89.5, 66.2), (-83.325, 66.2))
        make_face()
    extrude(amount=-BOSS_EXTRUDE2_DEPTH)


solid = part.part
